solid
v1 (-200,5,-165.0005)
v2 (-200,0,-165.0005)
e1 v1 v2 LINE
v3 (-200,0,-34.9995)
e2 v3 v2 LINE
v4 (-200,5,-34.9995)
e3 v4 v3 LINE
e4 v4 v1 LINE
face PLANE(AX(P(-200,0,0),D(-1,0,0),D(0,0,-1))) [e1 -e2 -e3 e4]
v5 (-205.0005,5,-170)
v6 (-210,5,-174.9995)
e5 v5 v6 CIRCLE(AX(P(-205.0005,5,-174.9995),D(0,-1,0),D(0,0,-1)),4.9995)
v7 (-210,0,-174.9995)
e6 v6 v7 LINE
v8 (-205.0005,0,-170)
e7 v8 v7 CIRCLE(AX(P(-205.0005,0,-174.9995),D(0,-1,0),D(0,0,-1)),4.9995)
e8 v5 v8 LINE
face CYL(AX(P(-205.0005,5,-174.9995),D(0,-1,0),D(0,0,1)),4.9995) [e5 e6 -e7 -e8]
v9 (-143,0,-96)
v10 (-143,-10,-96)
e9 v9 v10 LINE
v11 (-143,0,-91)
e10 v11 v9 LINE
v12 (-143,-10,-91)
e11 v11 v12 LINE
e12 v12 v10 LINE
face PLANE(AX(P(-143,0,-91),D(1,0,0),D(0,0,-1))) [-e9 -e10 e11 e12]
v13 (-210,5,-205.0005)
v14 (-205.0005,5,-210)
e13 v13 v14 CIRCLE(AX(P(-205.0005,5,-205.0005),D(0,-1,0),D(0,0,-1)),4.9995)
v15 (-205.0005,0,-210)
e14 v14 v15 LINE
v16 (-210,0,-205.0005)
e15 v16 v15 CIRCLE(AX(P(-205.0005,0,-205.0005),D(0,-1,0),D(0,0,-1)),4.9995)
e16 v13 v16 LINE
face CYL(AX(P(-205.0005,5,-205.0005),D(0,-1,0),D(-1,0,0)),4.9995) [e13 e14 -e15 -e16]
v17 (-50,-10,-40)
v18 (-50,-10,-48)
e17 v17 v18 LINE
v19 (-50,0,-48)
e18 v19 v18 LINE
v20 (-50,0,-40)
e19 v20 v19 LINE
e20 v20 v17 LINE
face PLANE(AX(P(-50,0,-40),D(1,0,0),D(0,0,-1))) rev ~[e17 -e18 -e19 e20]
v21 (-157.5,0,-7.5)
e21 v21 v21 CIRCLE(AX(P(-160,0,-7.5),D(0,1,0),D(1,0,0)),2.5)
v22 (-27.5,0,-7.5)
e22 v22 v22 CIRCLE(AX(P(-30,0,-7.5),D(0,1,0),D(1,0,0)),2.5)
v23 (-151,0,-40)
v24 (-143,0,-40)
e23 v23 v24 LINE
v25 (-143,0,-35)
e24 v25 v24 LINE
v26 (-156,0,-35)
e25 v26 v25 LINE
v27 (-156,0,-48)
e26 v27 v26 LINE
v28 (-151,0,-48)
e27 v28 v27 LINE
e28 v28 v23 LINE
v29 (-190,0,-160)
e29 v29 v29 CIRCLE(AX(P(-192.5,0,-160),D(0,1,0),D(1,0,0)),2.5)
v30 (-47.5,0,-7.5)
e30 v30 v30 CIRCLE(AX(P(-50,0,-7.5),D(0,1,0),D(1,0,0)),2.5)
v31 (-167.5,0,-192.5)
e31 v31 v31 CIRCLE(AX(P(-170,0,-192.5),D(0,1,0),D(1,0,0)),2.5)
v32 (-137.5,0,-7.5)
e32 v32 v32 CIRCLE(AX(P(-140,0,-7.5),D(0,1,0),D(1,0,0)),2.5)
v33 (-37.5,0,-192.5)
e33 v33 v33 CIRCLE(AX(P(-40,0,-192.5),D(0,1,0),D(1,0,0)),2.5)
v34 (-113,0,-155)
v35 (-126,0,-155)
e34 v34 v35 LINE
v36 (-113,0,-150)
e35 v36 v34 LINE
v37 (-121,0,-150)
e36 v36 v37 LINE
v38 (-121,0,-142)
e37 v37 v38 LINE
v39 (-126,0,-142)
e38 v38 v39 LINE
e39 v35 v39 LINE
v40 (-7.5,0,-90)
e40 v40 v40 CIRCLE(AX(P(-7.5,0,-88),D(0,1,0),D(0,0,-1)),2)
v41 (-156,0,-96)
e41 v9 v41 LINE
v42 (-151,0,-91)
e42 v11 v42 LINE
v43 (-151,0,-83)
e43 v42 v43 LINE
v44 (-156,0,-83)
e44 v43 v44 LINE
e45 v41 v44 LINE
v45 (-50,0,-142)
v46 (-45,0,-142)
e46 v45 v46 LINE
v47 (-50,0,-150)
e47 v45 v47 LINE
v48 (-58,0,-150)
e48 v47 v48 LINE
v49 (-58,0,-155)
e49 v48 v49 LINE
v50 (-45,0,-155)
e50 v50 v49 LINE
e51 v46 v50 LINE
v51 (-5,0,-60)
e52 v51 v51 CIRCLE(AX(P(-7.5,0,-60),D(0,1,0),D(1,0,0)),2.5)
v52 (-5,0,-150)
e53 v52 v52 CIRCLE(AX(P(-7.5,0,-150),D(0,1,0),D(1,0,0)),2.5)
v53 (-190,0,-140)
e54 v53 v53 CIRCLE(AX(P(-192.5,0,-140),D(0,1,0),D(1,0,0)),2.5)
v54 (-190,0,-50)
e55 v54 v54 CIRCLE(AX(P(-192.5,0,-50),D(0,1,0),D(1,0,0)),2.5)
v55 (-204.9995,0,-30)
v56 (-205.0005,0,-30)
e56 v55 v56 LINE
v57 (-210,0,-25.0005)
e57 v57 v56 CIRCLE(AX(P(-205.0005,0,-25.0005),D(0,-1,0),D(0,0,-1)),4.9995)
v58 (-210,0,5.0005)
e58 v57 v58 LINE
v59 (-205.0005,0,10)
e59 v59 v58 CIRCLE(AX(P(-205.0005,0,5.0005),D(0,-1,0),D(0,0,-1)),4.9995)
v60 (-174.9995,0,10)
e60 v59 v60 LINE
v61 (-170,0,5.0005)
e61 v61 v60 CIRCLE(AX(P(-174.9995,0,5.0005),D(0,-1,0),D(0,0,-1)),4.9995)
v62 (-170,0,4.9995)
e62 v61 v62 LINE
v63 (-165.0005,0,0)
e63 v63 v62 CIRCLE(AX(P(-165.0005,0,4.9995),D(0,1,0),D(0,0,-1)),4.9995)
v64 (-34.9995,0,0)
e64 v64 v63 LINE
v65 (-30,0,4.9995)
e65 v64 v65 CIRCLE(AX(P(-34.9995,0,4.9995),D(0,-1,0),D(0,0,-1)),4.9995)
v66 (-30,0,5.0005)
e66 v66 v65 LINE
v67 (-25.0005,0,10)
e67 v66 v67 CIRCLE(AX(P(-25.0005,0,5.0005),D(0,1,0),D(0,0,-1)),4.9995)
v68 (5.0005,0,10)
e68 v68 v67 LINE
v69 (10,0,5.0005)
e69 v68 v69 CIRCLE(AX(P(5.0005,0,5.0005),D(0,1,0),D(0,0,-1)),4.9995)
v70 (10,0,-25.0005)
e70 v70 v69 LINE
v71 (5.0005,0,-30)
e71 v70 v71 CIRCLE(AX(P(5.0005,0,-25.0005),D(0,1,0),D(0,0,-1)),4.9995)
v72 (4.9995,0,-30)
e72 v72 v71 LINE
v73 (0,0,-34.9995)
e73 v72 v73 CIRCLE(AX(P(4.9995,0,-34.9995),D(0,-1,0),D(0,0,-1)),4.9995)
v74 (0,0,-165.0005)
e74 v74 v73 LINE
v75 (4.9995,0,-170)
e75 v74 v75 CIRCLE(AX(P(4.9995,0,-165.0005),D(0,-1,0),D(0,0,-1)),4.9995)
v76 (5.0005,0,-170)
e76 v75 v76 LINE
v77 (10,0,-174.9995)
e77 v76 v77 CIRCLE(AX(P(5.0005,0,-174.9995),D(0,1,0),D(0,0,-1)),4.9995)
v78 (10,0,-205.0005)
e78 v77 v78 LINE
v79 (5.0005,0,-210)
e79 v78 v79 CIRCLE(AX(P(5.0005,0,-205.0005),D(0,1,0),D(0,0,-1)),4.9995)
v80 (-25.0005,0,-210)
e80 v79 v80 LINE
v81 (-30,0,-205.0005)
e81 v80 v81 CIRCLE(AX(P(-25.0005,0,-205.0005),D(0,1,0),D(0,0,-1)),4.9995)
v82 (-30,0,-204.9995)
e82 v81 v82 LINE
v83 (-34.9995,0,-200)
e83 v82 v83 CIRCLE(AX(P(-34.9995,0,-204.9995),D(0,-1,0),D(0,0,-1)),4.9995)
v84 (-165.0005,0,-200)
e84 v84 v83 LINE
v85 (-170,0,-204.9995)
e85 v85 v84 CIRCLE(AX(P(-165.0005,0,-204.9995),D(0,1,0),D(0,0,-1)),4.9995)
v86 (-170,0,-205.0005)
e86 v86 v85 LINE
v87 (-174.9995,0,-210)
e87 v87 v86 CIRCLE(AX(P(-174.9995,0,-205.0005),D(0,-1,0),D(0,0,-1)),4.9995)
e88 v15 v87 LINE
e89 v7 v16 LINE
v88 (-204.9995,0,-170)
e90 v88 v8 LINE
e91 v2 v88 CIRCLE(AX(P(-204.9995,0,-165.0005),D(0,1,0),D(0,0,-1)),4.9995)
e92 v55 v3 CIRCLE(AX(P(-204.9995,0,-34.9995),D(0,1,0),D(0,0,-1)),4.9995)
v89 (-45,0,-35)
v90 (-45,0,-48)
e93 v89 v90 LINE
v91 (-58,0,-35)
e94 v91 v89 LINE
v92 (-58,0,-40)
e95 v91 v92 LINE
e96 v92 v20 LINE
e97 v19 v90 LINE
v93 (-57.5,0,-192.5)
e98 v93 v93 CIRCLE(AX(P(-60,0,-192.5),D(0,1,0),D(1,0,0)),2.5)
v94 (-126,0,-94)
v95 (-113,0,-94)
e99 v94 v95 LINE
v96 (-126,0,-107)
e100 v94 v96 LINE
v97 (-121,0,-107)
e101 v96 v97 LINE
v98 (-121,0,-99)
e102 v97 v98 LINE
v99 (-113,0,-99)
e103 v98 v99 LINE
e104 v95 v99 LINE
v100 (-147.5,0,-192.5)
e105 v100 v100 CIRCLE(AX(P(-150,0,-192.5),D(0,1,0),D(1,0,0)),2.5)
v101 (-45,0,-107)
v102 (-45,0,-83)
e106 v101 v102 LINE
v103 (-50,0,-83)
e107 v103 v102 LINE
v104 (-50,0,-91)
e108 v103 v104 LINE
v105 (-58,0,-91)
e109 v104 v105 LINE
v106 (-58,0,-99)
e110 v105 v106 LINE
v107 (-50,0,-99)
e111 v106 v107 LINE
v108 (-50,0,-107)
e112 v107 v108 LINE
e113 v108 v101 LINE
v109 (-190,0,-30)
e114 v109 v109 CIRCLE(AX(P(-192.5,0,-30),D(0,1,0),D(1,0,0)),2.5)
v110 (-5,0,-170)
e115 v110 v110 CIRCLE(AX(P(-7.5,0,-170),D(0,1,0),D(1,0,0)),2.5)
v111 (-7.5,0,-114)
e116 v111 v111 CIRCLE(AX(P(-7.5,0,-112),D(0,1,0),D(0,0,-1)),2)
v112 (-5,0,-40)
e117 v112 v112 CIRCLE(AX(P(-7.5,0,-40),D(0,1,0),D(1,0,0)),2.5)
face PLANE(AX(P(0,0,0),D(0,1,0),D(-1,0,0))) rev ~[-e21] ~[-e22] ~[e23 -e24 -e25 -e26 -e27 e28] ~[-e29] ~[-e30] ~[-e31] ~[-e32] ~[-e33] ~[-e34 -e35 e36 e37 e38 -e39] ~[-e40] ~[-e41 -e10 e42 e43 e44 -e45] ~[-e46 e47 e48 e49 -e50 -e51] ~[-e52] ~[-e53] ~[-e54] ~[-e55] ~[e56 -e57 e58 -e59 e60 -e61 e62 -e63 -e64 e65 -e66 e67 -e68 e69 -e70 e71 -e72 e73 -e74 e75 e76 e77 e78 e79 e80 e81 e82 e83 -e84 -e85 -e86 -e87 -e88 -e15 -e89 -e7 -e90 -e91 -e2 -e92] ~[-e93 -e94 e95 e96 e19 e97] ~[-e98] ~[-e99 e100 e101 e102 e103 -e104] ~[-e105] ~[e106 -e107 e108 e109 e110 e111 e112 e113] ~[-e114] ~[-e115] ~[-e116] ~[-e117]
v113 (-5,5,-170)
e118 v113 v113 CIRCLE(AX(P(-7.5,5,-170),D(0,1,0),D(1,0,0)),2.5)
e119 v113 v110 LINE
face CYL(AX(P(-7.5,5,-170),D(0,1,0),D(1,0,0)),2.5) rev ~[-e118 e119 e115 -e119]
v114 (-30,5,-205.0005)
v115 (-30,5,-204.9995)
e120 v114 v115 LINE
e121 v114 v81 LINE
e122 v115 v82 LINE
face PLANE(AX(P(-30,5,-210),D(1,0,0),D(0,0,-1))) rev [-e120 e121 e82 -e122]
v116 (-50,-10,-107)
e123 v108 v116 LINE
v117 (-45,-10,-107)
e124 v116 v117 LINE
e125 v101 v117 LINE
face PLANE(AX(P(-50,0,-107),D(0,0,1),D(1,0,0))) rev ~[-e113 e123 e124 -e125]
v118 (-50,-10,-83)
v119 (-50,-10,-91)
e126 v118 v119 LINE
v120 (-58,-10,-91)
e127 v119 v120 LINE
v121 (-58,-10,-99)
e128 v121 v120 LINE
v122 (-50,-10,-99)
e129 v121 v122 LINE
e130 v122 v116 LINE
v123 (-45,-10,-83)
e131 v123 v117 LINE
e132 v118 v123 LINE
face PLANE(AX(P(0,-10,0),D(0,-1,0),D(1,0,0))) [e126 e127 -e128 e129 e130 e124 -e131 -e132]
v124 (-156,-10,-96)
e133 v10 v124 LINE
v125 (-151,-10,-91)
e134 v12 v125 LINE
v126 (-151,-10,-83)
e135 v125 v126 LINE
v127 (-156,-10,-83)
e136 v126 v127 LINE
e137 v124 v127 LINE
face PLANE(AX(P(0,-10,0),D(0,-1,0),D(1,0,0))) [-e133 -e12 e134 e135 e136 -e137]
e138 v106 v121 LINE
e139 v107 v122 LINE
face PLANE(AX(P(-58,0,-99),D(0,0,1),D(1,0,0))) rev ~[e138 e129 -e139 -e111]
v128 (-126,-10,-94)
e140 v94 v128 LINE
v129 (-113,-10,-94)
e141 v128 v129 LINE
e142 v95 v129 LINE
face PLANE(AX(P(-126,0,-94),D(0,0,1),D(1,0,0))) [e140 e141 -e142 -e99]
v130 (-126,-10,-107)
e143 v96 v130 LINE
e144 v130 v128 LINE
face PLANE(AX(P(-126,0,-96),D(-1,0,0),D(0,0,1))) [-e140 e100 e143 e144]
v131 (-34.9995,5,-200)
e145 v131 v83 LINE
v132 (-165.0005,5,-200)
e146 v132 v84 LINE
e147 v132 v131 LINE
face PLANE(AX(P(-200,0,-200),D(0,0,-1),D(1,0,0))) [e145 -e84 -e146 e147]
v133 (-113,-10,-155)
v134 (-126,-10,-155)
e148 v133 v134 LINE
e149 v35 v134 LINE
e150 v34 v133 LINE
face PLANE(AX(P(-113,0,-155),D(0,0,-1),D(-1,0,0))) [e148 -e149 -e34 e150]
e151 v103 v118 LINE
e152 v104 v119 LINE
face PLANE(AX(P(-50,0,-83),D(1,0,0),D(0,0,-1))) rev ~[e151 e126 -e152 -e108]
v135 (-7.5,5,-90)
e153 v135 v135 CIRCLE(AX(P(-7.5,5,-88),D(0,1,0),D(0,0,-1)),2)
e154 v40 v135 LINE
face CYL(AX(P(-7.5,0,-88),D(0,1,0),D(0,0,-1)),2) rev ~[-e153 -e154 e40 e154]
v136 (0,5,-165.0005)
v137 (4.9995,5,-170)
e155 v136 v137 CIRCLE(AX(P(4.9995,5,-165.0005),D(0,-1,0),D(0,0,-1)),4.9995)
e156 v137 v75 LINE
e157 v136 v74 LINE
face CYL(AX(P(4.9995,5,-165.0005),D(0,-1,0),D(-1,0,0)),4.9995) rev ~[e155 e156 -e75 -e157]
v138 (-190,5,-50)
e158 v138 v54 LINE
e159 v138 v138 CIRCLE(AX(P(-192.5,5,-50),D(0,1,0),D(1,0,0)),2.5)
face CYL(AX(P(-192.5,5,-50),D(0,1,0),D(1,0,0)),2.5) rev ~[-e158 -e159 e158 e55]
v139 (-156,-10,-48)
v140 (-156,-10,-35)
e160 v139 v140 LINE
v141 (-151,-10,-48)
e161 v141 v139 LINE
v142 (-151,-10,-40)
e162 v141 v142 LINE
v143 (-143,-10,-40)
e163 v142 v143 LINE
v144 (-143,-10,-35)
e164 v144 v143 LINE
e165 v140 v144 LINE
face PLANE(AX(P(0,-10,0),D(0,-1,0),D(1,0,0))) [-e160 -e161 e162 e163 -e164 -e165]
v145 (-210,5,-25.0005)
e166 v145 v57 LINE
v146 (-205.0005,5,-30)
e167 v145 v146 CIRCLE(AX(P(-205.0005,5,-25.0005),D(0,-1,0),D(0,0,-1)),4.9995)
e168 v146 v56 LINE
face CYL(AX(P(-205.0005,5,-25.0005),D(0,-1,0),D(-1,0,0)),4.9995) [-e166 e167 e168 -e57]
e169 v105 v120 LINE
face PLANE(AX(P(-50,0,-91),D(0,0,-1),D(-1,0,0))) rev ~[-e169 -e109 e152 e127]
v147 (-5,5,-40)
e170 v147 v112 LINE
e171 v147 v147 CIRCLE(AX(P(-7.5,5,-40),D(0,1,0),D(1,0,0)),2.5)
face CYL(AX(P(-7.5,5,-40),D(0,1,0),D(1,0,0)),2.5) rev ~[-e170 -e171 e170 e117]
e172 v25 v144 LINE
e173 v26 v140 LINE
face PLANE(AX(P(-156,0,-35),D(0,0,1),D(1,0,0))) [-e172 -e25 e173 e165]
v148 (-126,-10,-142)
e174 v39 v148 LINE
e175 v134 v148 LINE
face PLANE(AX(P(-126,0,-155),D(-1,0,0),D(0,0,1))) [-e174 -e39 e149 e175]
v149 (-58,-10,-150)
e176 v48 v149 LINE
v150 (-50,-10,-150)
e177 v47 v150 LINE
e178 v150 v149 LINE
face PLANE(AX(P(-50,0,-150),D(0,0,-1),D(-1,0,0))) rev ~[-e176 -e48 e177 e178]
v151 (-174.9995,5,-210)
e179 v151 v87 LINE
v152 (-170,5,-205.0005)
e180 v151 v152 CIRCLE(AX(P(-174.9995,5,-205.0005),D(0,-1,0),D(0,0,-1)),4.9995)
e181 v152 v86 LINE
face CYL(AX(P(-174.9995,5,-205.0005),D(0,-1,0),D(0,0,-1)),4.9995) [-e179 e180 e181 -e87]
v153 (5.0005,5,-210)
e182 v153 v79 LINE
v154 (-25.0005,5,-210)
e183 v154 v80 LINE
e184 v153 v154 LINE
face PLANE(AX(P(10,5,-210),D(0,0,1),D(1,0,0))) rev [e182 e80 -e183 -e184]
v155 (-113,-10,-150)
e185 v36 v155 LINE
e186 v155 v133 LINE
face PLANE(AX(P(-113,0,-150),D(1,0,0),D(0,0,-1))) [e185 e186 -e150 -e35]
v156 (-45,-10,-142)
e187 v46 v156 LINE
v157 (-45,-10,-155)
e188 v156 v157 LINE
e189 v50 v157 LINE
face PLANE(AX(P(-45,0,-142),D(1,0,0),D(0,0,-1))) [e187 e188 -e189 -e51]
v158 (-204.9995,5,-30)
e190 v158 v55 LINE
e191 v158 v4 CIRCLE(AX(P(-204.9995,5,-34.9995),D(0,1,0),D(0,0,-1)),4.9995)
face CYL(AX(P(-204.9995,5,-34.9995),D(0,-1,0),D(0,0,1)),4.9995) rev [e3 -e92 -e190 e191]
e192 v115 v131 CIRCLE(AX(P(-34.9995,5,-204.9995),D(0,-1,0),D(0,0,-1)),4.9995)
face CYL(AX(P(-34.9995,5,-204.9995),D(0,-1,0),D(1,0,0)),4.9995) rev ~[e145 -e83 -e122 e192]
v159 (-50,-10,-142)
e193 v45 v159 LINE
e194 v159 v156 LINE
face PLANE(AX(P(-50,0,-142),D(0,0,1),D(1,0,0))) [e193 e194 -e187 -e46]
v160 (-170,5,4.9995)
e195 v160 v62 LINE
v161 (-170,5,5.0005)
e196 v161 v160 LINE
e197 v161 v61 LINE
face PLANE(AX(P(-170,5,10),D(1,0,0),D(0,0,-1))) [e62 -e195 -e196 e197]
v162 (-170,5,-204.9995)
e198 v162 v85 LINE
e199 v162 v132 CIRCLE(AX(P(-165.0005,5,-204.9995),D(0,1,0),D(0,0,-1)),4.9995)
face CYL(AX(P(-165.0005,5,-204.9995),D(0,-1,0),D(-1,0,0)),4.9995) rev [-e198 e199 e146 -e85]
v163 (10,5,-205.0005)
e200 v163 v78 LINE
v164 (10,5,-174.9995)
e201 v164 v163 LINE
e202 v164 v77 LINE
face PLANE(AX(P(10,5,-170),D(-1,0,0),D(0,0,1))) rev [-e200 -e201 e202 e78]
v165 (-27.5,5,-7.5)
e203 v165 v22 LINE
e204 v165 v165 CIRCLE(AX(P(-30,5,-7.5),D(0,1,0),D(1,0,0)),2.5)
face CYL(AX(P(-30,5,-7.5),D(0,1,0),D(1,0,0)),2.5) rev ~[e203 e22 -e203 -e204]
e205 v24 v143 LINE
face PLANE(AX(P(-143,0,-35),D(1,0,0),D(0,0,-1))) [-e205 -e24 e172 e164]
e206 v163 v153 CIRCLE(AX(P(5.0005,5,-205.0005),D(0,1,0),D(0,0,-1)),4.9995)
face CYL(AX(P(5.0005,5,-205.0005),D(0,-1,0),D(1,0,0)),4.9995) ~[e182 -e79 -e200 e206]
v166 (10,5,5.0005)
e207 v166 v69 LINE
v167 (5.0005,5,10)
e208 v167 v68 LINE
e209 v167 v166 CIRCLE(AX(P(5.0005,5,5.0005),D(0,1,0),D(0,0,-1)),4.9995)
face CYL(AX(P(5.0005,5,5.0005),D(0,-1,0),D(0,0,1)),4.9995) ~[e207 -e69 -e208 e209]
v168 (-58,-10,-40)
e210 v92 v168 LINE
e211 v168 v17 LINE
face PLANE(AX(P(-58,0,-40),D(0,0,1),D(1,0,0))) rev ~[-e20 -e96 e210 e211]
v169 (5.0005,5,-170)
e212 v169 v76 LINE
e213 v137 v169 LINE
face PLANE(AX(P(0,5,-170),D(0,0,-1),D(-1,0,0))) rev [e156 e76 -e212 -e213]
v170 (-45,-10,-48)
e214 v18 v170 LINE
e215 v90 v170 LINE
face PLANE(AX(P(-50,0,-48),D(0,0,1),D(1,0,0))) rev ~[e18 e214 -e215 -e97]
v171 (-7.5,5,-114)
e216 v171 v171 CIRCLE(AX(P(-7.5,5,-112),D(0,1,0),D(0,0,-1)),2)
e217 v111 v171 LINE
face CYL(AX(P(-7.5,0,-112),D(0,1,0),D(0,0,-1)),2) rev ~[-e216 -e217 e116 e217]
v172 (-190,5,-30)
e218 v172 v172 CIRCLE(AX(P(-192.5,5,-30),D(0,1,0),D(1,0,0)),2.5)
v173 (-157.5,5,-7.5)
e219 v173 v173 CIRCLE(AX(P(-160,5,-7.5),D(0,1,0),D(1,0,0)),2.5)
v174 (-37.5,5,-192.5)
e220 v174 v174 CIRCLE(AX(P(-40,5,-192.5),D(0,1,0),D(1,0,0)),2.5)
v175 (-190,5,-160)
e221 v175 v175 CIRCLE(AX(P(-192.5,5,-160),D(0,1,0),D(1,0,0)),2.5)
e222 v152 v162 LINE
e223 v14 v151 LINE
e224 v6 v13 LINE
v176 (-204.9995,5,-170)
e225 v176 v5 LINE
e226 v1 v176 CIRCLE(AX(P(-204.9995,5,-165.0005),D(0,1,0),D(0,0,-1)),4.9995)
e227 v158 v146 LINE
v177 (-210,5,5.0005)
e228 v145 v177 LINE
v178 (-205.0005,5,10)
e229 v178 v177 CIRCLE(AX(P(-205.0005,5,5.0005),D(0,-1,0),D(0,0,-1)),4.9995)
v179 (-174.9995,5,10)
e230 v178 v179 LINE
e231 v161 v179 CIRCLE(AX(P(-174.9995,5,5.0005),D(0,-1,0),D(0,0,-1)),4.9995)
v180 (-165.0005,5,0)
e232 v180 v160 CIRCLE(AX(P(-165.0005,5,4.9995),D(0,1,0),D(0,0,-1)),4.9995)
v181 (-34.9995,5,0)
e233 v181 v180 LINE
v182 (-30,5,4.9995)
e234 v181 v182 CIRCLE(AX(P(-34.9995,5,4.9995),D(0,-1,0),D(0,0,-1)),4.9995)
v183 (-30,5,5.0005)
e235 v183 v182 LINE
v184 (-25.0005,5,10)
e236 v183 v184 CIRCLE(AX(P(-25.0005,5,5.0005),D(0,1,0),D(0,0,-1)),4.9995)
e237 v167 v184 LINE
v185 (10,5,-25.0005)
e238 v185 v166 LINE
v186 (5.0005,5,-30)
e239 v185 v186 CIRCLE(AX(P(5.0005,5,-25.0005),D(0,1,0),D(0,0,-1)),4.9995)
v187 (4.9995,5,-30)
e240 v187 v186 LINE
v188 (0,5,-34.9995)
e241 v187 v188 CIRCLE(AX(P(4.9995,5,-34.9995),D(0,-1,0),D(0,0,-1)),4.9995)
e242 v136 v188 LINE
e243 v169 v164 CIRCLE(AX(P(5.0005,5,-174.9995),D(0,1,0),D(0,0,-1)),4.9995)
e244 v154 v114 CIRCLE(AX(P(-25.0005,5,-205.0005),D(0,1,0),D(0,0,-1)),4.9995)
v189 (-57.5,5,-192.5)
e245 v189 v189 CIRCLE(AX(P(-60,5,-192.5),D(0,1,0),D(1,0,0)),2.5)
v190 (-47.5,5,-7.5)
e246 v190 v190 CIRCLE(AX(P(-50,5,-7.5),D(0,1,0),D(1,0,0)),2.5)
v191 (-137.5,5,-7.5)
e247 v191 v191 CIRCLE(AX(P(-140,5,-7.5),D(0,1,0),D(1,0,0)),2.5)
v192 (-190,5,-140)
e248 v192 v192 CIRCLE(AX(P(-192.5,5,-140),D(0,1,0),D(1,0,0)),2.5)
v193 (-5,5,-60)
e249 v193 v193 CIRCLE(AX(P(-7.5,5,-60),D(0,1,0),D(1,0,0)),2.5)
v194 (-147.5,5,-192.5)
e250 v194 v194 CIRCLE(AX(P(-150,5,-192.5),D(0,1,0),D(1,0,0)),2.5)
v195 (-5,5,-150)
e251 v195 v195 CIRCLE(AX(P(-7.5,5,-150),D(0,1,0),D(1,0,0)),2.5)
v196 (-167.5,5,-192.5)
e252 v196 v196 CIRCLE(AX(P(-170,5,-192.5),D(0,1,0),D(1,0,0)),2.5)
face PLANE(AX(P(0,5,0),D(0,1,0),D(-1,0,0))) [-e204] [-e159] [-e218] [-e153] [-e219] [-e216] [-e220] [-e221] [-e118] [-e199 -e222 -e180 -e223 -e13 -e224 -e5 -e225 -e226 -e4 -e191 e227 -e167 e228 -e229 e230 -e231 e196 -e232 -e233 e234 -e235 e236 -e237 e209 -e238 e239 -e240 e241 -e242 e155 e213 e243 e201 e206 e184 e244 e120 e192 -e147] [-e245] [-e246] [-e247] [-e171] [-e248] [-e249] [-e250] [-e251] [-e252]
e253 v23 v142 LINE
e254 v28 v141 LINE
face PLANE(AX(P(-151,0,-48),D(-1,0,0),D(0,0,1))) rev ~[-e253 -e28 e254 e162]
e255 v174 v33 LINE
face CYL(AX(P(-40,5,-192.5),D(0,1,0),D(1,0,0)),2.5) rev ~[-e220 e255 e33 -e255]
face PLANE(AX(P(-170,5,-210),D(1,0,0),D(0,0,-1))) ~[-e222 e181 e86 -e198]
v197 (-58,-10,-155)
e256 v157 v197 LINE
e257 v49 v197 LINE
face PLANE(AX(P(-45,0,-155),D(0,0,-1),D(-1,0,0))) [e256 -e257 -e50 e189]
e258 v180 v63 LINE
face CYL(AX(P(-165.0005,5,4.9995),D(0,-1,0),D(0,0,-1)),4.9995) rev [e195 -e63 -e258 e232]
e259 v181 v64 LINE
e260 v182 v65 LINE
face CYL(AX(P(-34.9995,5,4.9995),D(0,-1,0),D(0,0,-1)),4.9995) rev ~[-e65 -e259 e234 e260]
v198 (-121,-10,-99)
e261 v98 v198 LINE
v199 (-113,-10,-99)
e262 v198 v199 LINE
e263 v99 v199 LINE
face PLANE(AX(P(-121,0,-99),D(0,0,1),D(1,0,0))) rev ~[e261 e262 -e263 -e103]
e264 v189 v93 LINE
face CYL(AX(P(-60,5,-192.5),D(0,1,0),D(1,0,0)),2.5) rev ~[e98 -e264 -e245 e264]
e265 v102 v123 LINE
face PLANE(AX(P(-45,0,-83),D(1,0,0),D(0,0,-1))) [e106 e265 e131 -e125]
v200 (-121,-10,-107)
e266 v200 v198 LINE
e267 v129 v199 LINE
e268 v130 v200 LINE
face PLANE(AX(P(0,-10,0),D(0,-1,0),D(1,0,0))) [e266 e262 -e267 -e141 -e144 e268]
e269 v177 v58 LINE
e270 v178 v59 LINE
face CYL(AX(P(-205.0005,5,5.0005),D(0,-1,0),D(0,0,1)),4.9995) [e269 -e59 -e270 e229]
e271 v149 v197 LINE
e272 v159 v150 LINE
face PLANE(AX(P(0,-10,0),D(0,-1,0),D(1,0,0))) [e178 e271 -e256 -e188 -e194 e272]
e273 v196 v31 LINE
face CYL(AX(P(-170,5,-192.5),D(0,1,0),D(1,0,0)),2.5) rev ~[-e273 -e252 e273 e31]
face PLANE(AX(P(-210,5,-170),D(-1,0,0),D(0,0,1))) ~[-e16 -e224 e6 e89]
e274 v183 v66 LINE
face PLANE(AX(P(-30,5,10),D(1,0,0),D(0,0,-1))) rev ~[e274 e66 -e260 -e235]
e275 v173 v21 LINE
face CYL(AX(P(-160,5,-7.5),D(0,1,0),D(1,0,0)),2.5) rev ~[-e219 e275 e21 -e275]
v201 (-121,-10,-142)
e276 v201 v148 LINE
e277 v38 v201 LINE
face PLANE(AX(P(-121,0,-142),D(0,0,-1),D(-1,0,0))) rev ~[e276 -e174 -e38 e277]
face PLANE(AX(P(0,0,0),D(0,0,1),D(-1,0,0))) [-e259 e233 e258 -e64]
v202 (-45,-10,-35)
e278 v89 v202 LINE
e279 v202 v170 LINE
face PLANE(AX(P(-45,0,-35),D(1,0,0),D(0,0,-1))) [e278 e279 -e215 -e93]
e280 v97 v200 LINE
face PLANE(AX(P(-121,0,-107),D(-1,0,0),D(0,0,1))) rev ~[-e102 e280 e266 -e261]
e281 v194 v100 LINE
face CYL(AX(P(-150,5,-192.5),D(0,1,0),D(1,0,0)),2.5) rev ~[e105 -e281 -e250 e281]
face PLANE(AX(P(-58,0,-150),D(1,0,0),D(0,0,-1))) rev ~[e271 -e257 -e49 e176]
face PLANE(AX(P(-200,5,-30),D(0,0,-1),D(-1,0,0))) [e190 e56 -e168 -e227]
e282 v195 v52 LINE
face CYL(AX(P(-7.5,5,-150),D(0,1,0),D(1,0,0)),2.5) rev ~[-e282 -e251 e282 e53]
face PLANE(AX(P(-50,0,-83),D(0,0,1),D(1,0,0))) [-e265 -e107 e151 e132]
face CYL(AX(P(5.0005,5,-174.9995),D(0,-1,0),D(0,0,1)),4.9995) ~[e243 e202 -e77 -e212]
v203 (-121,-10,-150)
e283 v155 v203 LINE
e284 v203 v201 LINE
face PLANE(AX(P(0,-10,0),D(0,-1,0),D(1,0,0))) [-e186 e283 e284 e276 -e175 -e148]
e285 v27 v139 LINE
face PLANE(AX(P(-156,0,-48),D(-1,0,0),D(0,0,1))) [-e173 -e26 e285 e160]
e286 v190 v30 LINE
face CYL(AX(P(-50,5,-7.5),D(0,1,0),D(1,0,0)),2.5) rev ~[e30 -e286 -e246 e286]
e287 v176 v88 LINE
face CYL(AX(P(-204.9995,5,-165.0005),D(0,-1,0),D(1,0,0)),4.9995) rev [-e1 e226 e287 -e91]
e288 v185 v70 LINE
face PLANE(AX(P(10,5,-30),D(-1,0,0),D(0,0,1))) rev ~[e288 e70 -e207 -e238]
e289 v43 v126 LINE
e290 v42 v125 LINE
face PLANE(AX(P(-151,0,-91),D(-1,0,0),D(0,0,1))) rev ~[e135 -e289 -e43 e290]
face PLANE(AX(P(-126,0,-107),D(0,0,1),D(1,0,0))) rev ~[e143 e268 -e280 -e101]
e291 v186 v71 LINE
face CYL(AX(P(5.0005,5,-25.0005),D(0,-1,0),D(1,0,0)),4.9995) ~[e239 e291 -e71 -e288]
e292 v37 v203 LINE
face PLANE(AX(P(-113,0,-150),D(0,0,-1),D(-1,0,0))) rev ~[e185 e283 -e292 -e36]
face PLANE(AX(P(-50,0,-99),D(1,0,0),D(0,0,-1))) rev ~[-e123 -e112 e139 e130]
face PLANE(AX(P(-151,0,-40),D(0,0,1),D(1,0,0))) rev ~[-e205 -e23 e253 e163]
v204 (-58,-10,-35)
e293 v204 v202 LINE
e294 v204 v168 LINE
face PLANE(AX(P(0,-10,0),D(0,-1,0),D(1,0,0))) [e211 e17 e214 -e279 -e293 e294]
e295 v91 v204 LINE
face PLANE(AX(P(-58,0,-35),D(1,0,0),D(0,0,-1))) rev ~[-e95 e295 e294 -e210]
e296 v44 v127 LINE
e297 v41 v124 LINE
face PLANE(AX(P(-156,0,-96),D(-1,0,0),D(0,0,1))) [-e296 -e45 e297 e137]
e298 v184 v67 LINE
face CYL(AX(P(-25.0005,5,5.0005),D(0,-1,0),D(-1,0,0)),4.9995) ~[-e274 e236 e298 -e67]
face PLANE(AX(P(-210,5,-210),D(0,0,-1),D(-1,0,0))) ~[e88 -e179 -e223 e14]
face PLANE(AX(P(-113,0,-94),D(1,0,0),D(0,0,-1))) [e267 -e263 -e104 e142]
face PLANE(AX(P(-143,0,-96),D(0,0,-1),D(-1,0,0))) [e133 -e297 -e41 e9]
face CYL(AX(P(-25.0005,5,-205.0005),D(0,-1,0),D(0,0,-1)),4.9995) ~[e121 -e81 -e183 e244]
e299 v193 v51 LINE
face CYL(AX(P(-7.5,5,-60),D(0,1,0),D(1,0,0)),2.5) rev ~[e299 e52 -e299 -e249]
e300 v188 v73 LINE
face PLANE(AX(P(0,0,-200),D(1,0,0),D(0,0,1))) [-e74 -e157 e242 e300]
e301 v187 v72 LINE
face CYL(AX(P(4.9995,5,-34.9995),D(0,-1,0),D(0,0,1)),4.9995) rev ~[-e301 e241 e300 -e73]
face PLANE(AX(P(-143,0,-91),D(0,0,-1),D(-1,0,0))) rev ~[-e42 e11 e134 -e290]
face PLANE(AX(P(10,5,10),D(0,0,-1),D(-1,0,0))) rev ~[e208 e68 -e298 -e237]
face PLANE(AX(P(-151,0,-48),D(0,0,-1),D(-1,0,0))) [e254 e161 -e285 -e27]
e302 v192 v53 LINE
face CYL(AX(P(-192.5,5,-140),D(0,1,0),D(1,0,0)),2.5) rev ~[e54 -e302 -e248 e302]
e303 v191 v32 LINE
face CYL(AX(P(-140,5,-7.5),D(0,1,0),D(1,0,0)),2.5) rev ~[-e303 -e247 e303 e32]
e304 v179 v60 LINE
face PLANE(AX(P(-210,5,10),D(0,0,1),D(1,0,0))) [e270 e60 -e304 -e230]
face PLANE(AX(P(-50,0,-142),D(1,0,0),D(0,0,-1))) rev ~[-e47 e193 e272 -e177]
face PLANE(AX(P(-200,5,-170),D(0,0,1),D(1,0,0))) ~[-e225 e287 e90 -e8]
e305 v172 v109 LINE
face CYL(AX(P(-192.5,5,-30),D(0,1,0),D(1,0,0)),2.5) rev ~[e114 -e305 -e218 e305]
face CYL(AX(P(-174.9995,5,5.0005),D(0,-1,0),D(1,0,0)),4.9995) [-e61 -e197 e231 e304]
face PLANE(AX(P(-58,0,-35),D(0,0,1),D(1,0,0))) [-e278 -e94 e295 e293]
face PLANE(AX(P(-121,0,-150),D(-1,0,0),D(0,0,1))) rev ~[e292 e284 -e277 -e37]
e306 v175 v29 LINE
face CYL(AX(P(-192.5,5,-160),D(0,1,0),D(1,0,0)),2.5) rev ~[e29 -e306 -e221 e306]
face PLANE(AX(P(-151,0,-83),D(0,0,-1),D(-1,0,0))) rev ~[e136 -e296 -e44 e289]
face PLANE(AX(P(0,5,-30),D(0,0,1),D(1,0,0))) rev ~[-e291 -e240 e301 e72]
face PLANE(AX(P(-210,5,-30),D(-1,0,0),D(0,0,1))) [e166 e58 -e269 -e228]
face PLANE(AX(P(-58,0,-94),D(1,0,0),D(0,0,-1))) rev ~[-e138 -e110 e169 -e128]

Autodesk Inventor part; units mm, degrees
ref_plane "YZ Plane" through (0, 0, 0) normal (1, 0, 0) x (0, 1, 0)
ref_plane "XZ Plane" through (0, 0, 0) normal (0, 1, 0) x (-1, 0, 0)
sketch "Sketch1" plane through (0, 0, 0) normal (0, 1, 0) x (-1, 0, 0)
  line L0 (0, 0) -> (200, 0)
  line L1 (200, 0) -> (200, -200)
  line L2 (200, -200) -> (0, -200)
  line L3 (0, -200) -> (0, 0)
  dimension "d0" = 200
  dimension "d1" = 200
extrude "Extrusion1" add sketch "Sketch1" along normal blind 5
sketch "Sketch3" plane through (0, 5, 0) normal (0, 1, 0) x (1, 0, 0)
  line L0 (-200, 0) -> (0, 0) projected
  line L1 (0, 0) -> (0, 30)
  line L2 (0, 0) -> (0, 200) projected
  line L3 (0, 30) -> (10, 30)
  line L4 (10, 30) -> (10, -10)
  line L5 (10, -10) -> (-30, -10)
  line L6 (-30, -10) -> (-30, 0)
  line L7 (-30, 0) -> (0, 0)
  line L8 (-200, 0) -> (-200, 30)
  line L9 (-200, 200) -> (-200, 0) projected
  line L10 (-200, 30) -> (-210, 30)
  line L11 (-210, 30) -> (-210, -10)
  line L12 (-210, -10) -> (-170, -10)
  line L13 (-170, -10) -> (-170, 0)
  line L14 (-170, 0) -> (-200, 0)
  dimension "d20" = 30
  dimension "d21" = 10
  dimension "d22" = 40
  dimension "d23" = 40
  dimension "d24" = 30
  dimension "d25" = 10
  dimension "d26" = 40
  dimension "d27" = 40
extrude "Extrusion3" add sketch "Sketch3" against normal blind 5
ref_plane "Work Plane2" through (-170, 0, -100) normal (0, 0, 1) x (1, 0, 0)
mirror "Mirror2" about plane through (-170, 0, -100) normal (0, 0, 1) of "Extrusion3"
sketch "Sketch4" plane through (0, 5, 0) normal (0, 1, 0) x (1, 0, 0)
  circle A0 centre (-7.5, 40) radius 2.5
  circle A1 centre (-7.5, 60) radius 2.5
  circle A2 centre (-30, 7.5) radius 2.5
  circle A3 centre (-50, 7.5) radius 2.5
  line L0 (-30, -10) -> (10, -10) projected
  line L1 (0, 30) -> (0, 170) projected
  line L2 (10, -10) -> (10, 30) projected
  line L3 (-170, 0) -> (-30, 0) projected
  circle A4 centre (-140, 7.5) radius 2.5
  circle A5 centre (-160, 7.5) radius 2.5
  circle A6 centre (-192.5, 30) radius 2.5
  circle A7 centre (-192.5, 50) radius 2.5
  line L4 (-210, 30) -> (-210, -10) projected
  line L5 (-210, -10) -> (-170, -10) projected
  line L6 (-200, 170) -> (-200, 30) projected
  circle A8 centre (-192.5, 160) radius 2.5
  circle A9 centre (-192.5, 140) radius 2.5
  circle A10 centre (-170, 192.5) radius 2.5
  circle A11 centre (-150, 192.5) radius 2.5
  circle A12 centre (-60, 192.5) radius 2.5
  circle A13 centre (-40, 192.5) radius 2.5
  circle A14 centre (-7.5, 170) radius 2.5
  circle A15 centre (-7.5, 150) radius 2.5
  line L7 (-30, 200) -> (-170, 200) projected
  line L8 (-30, 210) -> (10, 210) projected
  line L9 (10, 210) -> (10, 170) projected
  line L10 (-210, 170) -> (-210, 210) projected
  line L11 (-210, 210) -> (-170, 210) projected
  point P0 (0, 0)
  dimension "d30" = 5
  dimension "d31" = 5
  dimension "d32" = 5
  dimension "d33" = 5
  dimension "d34" = 70
  dimension "d35" = 50
  dimension "d36" = 7.5
  dimension "d37" = 7.5
  dimension "d38" = 40
  dimension "d39" = 60
  dimension "d40" = 7.5
  dimension "d41" = 7.5
  dimension "d42" = 5
  dimension "d43" = 5
  dimension "d44" = 5
  dimension "d45" = 5
  dimension "d46" = 50
  dimension "d47" = 70
  dimension "d48" = 40
  dimension "d49" = 60
  dimension "d50" = 7.5
  dimension "d51" = 7.5
  dimension "d52" = 7.5
  dimension "d53" = 7.5
  dimension "d123" = 7.5
  dimension "d124" = 7.5
  dimension "d125" = 7.5
  dimension "d126" = 7.5
  dimension "d127" = 7.5
  dimension "d128" = 7.5
  dimension "d129" = 7.5
  dimension "d130" = 7.5
  dimension "d131" = 5
  dimension "d132" = 5
  dimension "d133" = 5
  dimension "d134" = 5
  dimension "d135" = 5
  dimension "d136" = 5
  dimension "d137" = 5
  dimension "d138" = 5
  dimension "d139" = 40
  dimension "d140" = 60
  dimension "d141" = 50
  dimension "d142" = 70
  dimension "d143" = 40
  dimension "d144" = 60
  dimension "d145" = 50
  dimension "d146" = 70
extrude "Extrusion4" cut sketch "Sketch4" against normal through all
fillet "Fillet2" radius 5 20 edges at (-30, 2.5, 0) (-30, 2.5, 10) (10, 2.5, 10) (10, 2.5, -30) (0, 2.5, -170) (10, 2.5, -170) (0, 2.5, -30) (10, 2.5, -210) (-30, 2.5, -210) (-30, 2.5, -200) (-170, 2.5, -210) (-210, 2.5, -210) (-210, 2.5, -170) (-170, 2.5, -200) (-200, 2.5, -170) (-210, 2.5, 10) (-210, 2.5, -30) (-200, 2.5, -30) (-170, 2.5, 0) (-170, 2.5, 10)
sketch "Sketch6" plane through (0, 0, 0) normal (0, -1, 0) x (1, 0, 0)
  line L0 (-151, -40) -> (-50, -40)
  line L1 (-50, -40) -> (-50, -91)
  line L2 (-50, -91) -> (-151, -91)
  line L3 (-151, -91) -> (-151, -40)
  line L4 (-50, -99) -> (-50, -150)
  line L5 (-50, -150) -> (-121, -150)
  line L6 (-121, -150) -> (-121, -99)
  line L7 (0, -35) -> (0, -165) projected
  line L8 (-35, -200) -> (-165, -200) projected
  line L9 (-200, -165) -> (-200, -35) projected
  line L10 (-156, -35) -> (-45, -35)
  line L11 (-45, -35) -> (-45, -96)
  line L12 (-126, -96) -> (-156, -96)
  line L13 (-156, -96) -> (-156, -35)
  line L14 (-45, -155) -> (-126, -155)
  line L15 (-126, -155) -> (-126, -94)
  line L16 (-45, -94) -> (-45, -155)
  line L17 (-126, -107) -> (-121, -107)
  line L18 (-113, -94) -> (-113, -99)
  line L19 (-58, -94) -> (-58, -99)
  line L20 (-50, -107) -> (-45, -107)
  line L21 (-50, -142) -> (-45, -142)
  line L22 (-58, -150) -> (-58, -155)
  line L23 (-113, -150) -> (-113, -155)
  line L24 (-121, -142) -> (-126, -142)
  line L25 (-143, -91) -> (-143, -96)
  line L26 (-151, -83) -> (-156, -83)
  line L27 (-151, -48) -> (-156, -48)
  line L28 (-143, -35) -> (-143, -40)
  line L29 (-58, -35) -> (-58, -40)
  line L30 (-50, -48) -> (-45, -48)
  line L31 (-50, -83) -> (-45, -83)
  line L32 (-58, -91) -> (-58, -94)
  line L33 (-121, -99) -> (-113, -99)
  line L34 (-58, -99) -> (-50, -99)
  line L35 (-126, -94) -> (-113, -94)
  point P0 (0, 0)
  dimension "d57" = 50
  dimension "d58" = 101
  dimension "d59" = 50
  dimension "d61" = 51
  dimension "d62" = 79
  dimension "d63" = 51
  dimension "d64" = 5
  dimension "d65" = 5
  dimension "d66" = 5
  dimension "d68" = 5
  dimension "d69" = 5
  dimension "d70" = 5
  dimension "d71" = 5
  dimension "d73" = 8
  dimension "d74" = 8
  dimension "d75" = 8
  dimension "d76" = 8
  dimension "d77" = 8
  dimension "d78" = 8
  dimension "d79" = 8
  dimension "d80" = 8
  dimension "d81" = 8
  dimension "d82" = 8
  dimension "d84" = 8
  dimension "d85" = 8
  dimension "d86" = 8
  dimension "d87" = 8
  dimension "d88" = 104
  dimension "d89" = 101
  dimension "d90" = 106
  dimension "d91" = 93
  dimension "d92" = 93
  dimension "d93" = 106
  dimension "d94" = 104
  dimension "d95" = 106
  dimension "d96" = 106
extrude "Extrusion5" add sketch "Sketch6" along normal blind 10 contours L3 L27 L13 L10 L28 L0 | L29 L10 L11 L30 L1 L0 | L3 L2 L25 L12 L13 L26 | L31 L11 L16 L20 L4 L34 L19 L32 L2 L1 | L15 L35 L18 L33 L6 L17 | L24 L6 L5 L23 L14 L15 | L16 L14 L22 L5 L4 L21
sketch "Sketch8" plane through (0, 0, 0) normal (0, -1, 0) x (1, 0, 0)
  line L0 (-165, 0) -> (-35, 0) projected
  line L1 (0, -35) -> (0, -165) projected
  point P0 (0, 0)
  point P1 (-7.5, -112)
  point P2 (-7.5, -88)
  dimension "d110" = 24
  dimension "d111" = 88
  dimension "d112" = 7.5
  dimension "d113" = 7.5
hole "Hole2" at (-7.5, 0, -112) at (-7.5, 0, -88) direction (0, 1, 0) diameter 4 end through all
properties part number "bottom_plate"
